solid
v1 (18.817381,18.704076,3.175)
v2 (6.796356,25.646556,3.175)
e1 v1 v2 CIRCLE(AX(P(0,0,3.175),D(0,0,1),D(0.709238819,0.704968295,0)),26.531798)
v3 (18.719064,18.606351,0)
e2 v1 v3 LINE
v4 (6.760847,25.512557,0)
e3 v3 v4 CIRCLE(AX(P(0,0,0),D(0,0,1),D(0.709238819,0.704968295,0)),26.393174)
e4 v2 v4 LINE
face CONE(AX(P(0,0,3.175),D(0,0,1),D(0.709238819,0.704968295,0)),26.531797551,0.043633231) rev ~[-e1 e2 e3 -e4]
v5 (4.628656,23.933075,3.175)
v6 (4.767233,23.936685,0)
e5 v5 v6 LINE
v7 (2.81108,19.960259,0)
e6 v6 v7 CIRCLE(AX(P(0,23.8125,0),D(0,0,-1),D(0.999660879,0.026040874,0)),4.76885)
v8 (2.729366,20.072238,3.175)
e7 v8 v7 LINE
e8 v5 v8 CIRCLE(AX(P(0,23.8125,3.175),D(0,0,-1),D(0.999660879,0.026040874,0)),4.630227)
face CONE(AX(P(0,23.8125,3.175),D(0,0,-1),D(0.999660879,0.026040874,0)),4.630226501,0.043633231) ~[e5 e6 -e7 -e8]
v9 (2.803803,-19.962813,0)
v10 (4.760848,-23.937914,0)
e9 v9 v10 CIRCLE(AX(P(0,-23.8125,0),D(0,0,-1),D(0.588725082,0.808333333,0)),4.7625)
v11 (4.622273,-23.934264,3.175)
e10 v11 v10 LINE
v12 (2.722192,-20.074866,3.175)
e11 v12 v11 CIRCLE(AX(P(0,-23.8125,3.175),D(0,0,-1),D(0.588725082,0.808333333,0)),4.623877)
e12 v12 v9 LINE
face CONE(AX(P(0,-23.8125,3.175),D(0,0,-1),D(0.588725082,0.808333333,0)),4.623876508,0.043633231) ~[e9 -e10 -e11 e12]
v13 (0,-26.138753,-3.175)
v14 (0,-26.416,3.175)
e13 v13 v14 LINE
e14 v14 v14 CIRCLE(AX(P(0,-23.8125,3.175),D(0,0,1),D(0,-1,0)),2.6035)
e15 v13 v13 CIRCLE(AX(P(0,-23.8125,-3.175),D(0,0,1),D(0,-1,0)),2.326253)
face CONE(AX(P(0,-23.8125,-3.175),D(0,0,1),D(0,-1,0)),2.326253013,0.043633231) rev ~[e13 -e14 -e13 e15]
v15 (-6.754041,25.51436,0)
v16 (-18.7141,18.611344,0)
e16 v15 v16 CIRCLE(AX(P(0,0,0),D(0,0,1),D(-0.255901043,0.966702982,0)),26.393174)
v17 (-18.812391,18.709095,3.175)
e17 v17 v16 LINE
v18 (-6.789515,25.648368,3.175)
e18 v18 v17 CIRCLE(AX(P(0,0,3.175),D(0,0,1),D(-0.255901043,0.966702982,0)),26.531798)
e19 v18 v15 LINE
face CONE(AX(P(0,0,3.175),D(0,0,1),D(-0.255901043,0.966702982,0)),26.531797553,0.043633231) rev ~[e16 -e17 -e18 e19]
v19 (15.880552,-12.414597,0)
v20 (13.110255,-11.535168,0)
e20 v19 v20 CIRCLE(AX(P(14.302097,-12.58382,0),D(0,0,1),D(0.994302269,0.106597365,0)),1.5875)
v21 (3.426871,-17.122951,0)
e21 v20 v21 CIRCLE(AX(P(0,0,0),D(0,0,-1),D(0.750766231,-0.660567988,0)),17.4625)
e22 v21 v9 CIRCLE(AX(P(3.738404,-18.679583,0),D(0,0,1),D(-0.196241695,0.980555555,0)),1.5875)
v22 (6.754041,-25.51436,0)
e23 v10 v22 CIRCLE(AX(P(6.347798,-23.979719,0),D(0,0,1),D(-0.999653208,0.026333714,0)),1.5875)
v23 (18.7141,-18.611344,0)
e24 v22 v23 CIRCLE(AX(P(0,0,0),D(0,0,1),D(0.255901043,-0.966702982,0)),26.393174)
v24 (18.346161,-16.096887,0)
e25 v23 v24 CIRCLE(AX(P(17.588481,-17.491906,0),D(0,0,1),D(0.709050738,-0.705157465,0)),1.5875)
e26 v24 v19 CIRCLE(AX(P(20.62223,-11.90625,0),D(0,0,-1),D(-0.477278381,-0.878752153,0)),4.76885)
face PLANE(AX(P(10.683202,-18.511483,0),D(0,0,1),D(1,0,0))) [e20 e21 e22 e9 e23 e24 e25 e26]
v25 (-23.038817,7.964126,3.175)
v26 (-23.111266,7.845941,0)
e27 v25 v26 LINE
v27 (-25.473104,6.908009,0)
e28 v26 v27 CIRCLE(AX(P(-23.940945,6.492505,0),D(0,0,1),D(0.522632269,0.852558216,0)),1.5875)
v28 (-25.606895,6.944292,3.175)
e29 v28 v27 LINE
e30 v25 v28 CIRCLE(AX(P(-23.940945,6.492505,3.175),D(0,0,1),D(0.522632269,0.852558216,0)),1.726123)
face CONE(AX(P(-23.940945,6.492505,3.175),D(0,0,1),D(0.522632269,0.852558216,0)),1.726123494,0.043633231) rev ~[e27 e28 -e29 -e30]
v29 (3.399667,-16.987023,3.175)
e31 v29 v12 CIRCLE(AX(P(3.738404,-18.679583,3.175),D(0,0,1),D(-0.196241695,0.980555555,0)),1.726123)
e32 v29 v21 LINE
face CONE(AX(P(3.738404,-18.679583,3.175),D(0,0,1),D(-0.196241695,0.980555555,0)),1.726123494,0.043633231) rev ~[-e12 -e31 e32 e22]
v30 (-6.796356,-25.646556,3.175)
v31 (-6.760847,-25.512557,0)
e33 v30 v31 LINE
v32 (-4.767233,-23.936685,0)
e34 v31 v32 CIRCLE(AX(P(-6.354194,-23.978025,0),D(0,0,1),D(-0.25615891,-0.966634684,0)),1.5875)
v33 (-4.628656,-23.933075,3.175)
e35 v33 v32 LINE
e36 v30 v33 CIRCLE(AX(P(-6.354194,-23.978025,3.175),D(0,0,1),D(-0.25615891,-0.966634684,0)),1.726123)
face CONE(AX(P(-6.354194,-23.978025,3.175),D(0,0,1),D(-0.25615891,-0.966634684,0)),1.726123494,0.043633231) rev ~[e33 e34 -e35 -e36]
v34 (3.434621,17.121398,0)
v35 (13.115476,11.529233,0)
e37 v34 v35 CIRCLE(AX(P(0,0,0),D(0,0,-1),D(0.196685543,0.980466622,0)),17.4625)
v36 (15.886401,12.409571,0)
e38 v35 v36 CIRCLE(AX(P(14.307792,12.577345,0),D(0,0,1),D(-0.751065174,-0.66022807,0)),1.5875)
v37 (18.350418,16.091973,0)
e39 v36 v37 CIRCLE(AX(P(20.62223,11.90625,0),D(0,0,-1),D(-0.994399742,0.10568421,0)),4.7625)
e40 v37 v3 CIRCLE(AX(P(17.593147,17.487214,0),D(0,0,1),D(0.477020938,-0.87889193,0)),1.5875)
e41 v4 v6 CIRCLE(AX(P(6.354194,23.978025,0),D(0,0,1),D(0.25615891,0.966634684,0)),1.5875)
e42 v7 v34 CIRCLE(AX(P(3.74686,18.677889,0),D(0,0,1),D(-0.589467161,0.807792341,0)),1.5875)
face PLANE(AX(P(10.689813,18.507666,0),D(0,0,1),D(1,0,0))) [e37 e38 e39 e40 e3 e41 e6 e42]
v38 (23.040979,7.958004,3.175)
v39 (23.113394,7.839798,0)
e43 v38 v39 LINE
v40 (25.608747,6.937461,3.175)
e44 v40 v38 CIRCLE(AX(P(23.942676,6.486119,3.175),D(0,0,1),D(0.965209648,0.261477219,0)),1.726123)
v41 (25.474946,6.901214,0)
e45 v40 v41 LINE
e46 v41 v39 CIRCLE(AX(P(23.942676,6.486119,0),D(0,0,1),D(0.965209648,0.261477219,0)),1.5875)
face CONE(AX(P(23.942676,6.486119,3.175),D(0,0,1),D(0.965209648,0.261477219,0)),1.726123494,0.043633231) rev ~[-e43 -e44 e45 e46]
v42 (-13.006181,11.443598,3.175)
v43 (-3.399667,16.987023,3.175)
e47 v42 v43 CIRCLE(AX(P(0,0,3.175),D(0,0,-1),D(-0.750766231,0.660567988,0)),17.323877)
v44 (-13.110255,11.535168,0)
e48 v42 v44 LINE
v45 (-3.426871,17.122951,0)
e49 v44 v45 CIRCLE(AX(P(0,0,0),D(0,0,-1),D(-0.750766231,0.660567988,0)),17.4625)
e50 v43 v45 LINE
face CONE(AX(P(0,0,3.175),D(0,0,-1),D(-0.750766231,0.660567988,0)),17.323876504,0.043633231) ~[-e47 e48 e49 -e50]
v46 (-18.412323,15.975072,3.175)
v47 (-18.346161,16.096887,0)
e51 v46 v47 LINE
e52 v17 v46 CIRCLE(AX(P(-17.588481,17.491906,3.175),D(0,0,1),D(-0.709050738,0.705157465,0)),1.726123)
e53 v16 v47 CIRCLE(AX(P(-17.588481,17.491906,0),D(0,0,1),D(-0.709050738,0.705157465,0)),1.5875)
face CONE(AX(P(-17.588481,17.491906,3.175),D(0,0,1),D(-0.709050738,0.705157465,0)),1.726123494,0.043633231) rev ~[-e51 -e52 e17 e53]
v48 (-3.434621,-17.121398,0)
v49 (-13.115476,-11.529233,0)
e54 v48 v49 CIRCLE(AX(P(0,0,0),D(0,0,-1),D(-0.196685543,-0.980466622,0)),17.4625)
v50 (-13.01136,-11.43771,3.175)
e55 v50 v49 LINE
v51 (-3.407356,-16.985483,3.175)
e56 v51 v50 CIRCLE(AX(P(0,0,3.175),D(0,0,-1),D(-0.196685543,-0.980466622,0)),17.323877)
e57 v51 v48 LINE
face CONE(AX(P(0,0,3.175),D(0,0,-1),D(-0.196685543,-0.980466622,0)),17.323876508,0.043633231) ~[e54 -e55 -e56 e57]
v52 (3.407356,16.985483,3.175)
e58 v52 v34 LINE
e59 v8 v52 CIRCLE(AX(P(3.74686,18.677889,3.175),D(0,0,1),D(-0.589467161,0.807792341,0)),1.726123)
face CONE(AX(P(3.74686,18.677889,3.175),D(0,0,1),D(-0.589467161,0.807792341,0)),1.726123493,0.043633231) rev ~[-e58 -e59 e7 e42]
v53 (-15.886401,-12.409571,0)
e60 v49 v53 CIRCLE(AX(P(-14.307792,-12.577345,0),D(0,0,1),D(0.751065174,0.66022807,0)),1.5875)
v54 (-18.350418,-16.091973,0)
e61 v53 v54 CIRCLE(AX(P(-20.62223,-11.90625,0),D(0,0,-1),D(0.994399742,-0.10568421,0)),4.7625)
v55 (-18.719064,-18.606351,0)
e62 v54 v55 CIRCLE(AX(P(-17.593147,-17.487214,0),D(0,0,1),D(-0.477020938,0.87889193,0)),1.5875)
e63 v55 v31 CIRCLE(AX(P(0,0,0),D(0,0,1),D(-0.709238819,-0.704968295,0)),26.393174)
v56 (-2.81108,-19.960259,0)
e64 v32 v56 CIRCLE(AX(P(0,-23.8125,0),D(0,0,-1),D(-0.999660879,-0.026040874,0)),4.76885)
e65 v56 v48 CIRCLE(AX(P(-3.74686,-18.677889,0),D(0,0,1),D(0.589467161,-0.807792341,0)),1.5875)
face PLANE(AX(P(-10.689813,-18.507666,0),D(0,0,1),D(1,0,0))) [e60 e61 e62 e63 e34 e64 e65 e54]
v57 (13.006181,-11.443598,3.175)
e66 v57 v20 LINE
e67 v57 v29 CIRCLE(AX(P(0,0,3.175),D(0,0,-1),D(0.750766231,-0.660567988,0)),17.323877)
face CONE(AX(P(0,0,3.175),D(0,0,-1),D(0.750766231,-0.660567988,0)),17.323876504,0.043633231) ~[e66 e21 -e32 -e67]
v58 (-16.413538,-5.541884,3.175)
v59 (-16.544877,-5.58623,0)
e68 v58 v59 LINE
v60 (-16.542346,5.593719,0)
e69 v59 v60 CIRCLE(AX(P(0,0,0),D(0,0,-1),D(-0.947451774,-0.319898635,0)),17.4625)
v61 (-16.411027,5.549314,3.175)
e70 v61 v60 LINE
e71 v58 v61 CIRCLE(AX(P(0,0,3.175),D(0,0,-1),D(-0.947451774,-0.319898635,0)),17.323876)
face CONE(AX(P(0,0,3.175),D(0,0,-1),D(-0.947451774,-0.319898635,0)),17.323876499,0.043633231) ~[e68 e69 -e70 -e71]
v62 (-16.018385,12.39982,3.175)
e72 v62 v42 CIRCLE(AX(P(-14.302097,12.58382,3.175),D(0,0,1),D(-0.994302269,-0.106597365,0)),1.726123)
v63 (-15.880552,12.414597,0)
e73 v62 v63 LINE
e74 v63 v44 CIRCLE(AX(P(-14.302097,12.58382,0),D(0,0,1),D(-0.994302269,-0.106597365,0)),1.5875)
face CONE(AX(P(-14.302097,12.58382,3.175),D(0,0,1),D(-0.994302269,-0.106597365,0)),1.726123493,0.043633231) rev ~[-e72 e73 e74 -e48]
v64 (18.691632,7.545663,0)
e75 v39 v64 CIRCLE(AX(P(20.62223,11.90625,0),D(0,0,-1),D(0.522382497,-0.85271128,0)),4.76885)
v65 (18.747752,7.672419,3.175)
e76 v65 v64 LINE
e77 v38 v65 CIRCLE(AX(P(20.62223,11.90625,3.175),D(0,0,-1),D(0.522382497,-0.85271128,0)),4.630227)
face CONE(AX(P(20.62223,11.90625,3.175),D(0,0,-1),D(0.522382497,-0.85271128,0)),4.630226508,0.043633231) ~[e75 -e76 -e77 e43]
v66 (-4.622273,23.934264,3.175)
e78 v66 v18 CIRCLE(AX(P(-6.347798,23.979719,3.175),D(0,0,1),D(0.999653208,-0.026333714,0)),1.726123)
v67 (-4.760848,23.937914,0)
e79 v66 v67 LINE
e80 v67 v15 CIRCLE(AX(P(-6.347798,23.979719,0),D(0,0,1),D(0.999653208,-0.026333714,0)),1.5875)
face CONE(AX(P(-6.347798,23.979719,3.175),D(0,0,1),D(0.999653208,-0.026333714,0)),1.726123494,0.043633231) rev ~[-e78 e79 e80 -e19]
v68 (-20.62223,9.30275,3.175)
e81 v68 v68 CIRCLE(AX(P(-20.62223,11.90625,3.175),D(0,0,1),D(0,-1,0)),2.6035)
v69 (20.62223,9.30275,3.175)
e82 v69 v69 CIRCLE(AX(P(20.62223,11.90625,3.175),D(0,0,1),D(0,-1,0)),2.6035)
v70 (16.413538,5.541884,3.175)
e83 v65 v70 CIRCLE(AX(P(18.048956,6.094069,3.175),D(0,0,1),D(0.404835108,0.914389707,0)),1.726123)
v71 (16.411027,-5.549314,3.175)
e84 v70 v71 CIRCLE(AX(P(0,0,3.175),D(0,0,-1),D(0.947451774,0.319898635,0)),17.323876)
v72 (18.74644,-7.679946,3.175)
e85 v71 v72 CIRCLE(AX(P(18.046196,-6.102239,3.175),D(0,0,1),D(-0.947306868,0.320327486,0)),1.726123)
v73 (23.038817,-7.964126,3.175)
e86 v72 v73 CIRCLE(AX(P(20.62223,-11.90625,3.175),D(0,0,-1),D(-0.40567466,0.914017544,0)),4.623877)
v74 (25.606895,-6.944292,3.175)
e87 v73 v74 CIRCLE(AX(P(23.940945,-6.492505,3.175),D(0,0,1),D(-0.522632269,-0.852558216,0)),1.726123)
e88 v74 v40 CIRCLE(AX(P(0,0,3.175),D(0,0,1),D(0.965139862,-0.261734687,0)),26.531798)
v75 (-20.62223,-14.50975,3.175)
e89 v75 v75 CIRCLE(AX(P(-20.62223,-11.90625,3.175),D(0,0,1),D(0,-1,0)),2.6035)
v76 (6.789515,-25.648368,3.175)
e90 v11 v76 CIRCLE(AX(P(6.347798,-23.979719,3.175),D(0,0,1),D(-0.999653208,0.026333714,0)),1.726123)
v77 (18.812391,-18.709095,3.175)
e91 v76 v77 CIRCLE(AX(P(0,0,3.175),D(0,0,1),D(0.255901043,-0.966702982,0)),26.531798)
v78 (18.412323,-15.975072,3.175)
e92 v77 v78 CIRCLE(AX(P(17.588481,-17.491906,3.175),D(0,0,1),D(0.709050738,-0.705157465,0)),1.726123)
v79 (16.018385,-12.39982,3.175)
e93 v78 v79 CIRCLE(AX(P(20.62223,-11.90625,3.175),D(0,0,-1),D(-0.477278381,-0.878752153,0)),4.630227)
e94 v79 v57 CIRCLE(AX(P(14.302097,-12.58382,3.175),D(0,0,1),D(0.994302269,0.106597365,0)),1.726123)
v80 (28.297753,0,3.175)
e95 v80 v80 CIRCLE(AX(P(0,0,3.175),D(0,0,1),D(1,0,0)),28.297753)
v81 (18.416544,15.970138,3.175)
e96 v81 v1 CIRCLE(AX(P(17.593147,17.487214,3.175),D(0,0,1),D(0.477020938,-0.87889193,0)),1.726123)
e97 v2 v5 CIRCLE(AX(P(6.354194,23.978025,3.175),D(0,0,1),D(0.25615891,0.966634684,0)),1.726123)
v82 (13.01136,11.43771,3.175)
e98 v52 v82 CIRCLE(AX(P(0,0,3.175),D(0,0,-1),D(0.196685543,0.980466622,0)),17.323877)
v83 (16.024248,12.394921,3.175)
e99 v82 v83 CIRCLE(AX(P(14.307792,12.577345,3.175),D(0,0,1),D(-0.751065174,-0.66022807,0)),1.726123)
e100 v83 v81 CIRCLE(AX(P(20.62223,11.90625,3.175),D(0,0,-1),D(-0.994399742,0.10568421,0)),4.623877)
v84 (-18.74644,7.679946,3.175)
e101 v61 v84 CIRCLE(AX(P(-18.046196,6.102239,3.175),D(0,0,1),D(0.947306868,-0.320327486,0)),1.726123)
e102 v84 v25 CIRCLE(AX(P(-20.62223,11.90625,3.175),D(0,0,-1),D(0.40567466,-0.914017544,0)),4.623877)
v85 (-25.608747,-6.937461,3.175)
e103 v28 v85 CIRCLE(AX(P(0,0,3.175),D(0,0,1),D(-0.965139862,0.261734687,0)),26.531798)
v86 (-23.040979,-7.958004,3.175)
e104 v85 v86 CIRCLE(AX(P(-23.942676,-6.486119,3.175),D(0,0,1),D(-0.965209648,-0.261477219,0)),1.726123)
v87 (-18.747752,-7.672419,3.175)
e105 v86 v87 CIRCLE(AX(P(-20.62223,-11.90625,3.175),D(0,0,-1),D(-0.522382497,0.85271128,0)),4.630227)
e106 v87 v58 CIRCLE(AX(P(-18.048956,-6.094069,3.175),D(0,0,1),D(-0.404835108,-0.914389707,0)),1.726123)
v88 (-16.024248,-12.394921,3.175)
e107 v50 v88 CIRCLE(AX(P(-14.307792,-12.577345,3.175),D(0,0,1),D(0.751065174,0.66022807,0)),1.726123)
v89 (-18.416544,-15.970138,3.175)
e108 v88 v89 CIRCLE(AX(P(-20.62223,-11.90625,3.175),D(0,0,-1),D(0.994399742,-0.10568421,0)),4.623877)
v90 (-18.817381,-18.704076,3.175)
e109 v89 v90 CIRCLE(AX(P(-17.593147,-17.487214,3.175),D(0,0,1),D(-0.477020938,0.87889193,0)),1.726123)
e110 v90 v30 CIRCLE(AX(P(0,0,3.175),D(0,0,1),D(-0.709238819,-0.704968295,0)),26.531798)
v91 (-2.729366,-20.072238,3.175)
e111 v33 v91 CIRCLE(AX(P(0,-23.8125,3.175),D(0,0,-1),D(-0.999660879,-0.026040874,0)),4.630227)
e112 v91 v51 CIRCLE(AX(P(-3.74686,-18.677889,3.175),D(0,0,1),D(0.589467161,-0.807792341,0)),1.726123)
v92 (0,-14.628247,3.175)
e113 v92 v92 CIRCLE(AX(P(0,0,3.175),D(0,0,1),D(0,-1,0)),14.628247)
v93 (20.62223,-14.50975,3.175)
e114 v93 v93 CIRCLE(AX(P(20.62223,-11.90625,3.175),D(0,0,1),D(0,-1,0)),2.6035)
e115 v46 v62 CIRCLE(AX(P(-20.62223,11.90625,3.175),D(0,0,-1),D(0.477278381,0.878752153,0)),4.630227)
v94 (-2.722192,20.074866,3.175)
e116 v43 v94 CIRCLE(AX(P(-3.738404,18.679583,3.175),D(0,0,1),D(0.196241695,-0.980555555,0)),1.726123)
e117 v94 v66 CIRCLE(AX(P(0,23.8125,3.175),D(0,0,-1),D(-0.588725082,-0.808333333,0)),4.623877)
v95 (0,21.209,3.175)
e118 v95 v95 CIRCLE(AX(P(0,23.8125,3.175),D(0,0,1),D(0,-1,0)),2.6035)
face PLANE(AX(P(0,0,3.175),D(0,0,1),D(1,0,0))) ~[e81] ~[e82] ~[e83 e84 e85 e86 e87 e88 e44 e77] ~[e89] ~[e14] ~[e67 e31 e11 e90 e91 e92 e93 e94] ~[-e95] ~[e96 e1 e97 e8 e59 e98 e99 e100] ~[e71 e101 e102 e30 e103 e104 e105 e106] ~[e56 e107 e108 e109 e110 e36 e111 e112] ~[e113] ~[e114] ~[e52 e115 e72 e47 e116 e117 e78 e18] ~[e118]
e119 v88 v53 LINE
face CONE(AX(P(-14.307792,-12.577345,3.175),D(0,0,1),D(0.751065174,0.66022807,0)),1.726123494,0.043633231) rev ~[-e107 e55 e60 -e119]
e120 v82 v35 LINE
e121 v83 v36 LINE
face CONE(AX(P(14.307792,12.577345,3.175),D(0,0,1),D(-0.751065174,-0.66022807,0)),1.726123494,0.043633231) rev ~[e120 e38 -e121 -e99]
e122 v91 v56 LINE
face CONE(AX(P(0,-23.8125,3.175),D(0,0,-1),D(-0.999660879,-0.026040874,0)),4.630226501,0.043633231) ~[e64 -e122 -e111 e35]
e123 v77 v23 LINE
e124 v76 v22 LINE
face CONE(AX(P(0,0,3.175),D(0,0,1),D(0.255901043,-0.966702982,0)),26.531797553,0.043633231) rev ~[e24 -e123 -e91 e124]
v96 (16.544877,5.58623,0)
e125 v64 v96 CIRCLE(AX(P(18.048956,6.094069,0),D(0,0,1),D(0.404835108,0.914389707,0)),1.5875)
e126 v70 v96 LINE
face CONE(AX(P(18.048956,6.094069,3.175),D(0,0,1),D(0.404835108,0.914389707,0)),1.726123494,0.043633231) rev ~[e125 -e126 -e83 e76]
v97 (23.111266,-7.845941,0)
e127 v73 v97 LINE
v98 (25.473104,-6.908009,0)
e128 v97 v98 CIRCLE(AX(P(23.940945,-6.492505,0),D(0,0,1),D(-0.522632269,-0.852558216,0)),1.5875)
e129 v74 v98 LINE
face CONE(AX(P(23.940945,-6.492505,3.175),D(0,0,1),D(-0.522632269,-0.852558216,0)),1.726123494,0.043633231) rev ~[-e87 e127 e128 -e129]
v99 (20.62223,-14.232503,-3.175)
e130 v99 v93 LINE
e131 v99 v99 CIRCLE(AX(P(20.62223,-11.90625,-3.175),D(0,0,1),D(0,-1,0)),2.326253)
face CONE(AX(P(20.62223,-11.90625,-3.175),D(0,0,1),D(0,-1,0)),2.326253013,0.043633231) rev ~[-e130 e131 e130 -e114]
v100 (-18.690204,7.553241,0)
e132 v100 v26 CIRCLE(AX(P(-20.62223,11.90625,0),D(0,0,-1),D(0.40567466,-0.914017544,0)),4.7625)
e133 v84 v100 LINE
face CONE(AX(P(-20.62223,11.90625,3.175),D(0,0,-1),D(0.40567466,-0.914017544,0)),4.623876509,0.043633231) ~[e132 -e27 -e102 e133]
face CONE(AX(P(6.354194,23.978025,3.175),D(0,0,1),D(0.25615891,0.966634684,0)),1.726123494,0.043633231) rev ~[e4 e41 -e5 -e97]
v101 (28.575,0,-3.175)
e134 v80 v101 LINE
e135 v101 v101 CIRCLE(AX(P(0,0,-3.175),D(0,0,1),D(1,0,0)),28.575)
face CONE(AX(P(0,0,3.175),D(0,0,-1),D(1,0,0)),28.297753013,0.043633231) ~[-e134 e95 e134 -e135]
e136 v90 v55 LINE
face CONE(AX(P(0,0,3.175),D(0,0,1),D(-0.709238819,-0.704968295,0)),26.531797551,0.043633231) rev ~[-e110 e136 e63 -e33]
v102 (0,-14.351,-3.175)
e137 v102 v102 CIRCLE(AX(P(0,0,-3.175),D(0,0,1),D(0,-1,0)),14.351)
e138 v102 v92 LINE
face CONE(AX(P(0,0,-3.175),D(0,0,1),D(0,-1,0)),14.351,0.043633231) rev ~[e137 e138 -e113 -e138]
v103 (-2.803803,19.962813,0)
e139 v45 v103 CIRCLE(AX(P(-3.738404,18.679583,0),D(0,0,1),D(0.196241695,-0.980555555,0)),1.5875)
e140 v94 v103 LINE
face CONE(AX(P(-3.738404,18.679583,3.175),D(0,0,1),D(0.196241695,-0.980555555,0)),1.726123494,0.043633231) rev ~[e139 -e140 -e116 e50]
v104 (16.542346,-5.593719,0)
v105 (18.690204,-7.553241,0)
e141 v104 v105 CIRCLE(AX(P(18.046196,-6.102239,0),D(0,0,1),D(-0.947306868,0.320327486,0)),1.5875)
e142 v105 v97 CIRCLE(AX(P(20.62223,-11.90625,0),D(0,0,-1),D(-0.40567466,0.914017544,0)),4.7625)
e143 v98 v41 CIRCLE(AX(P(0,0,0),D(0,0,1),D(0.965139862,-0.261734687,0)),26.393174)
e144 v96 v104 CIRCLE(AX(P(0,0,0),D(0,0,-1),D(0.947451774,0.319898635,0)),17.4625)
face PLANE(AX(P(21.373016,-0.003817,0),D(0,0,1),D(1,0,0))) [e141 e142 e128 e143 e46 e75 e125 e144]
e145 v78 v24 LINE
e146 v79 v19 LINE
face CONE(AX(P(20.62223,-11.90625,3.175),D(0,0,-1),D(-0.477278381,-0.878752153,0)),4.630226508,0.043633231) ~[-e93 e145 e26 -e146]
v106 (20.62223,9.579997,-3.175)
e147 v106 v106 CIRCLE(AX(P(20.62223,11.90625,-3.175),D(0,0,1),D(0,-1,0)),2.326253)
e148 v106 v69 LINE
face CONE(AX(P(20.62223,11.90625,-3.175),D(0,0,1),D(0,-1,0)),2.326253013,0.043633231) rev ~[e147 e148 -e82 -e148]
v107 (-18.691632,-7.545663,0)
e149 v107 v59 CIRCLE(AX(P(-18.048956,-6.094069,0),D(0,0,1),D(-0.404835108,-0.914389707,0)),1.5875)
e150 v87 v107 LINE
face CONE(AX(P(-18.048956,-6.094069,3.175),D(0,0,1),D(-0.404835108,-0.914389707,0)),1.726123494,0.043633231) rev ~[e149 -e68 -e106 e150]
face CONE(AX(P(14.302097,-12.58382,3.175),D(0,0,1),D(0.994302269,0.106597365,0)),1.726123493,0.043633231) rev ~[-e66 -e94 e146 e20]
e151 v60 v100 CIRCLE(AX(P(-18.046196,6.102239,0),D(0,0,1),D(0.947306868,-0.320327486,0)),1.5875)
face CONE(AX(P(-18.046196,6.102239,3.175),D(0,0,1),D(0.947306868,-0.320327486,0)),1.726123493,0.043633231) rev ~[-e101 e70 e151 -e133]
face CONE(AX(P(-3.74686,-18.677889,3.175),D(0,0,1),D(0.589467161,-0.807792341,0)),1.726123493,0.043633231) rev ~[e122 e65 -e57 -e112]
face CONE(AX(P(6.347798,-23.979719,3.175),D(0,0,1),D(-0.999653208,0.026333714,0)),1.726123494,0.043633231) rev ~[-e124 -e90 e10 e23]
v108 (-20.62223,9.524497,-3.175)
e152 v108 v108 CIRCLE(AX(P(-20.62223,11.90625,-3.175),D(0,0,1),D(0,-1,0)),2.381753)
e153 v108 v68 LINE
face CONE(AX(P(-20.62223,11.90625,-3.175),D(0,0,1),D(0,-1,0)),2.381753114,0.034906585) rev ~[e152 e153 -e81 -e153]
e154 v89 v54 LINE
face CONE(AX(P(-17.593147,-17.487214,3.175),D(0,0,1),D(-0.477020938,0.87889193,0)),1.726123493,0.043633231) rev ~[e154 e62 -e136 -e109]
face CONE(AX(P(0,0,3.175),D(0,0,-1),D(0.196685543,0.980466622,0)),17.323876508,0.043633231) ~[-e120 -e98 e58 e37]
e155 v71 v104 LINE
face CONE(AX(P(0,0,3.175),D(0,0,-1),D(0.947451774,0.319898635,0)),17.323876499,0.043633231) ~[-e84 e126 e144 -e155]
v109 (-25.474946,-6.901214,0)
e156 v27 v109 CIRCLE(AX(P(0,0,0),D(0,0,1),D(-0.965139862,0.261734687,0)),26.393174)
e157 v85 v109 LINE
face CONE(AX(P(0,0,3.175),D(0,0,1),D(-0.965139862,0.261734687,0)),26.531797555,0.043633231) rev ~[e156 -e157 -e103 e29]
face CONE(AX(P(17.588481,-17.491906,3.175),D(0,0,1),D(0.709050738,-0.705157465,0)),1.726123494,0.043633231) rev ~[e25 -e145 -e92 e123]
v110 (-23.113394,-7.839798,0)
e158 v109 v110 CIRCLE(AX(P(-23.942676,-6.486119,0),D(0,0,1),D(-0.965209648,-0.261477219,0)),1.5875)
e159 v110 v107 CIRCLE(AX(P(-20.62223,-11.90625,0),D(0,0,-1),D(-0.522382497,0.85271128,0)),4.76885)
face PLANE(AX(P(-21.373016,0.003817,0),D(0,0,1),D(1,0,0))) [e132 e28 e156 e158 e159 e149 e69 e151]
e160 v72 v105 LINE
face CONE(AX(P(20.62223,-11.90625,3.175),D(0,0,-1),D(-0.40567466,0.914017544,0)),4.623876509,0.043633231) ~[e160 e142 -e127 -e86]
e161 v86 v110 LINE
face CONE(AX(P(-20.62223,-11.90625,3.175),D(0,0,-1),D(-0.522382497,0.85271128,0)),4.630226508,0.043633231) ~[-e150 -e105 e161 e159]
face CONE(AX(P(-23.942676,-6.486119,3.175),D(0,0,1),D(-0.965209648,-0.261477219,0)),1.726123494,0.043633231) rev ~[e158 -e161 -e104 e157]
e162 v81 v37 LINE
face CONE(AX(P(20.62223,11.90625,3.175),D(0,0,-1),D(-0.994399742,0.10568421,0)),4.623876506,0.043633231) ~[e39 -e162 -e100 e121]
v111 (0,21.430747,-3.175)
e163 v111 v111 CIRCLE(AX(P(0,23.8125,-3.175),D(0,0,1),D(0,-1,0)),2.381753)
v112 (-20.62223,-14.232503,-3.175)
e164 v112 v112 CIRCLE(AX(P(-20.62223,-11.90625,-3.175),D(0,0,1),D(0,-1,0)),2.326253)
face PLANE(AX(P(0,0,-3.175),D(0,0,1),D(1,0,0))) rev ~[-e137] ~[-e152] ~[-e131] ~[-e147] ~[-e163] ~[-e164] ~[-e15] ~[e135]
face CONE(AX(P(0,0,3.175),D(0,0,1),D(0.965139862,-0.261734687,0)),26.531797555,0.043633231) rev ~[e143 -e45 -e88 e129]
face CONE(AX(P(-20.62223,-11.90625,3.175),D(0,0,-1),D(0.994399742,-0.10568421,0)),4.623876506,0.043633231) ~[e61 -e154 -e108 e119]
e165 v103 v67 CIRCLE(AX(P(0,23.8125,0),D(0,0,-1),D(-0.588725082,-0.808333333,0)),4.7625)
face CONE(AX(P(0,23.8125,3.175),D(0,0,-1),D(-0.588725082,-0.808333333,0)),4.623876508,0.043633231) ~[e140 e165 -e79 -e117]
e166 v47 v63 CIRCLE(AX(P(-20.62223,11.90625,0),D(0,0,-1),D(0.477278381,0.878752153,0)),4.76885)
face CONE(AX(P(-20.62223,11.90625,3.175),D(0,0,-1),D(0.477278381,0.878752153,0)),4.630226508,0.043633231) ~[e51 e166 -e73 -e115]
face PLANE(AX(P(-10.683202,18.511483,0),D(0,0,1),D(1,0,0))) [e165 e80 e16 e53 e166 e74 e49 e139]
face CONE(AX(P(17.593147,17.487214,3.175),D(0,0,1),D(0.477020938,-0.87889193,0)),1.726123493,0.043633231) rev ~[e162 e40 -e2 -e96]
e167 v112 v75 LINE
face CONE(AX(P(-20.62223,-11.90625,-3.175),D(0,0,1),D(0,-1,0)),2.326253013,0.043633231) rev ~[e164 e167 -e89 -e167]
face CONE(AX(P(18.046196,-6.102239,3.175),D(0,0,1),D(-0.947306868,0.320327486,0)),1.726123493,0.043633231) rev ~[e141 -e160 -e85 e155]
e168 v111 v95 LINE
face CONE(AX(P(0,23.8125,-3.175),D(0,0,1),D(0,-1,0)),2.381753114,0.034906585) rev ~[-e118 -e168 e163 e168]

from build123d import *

# Parameters (mm, degrees)
CUT_EXTRUDE1_DEPTH = 3.175
CUT_EXTRUDE1_DRAFT = -2.499999997
CUT_EXTRUDE2_DEPTH = 3.175
CUT_EXTRUDE2_DRAFT = -2.499999997
CUT_EXTRUDE3_DEPTH = 3.175
CUT_EXTRUDE3_DRAFT = -2.499999997
CUT_EXTRUDE4_DEPTH = 3.175
CUT_EXTRUDE4_DRAFT = -2.499999997
CUT_EXTRUDE5_DEPTH = 3.175
CUT_EXTRUDE5_DRAFT = -2.499999997
CUT_EXTRUDE6_DEPTH = 3.175
CUT_EXTRUDE6_DRAFT = -2.499999997


with BuildPart() as part:
    # Sketch1 → Revolve1 (revolve)
    with BuildSketch(Plane(origin=(0, 0, 0), x_dir=(1, 0, 0), z_dir=(0, 1, 0))):
        Polygon((28.575, 3.175), (0, 3.175), (0, -3.175), (28.297753013, -3.175), align=None)
    revolve(axis=Axis((0, 0, -3.175), (0, 0, 1)))


with BuildPart() as cut_extrude1_tool:
    # Sketch2 → Cut-Extrude1 (with draft: the straight prism first)
    with BuildSketch(Plane.XY.offset(3.175)):
        with BuildLine():
            ThreePointArc((-18.412322915, 15.975071512), (-16.774840019, 14.48240768), (-16.018385207, 12.399819948))
            ThreePointArc((-16.018385207, 12.399819948), (-14.824369054, 10.938604706), (-13.006181472, 11.443598242))
            ThreePointArc((-13.006181472, 11.443598242), (-8.658542341, 15.004877265), (-3.399666872, 16.987023352))
            ThreePointArc((-3.399666872, 16.987023352), (-2.052383538, 18.309669286), (-2.722192076, 20.074866491))
            ThreePointArc((-2.722192076, 20.074866491), (-4.148376637, 21.770147136), (-4.622272981, 23.934263844))
            ThreePointArc((-4.622272981, 23.934263844), (-5.27701362, 25.333574104), (-6.789514671, 25.648367816))
            ThreePointArc((-6.789514671, 25.648367816), (-13.262833976, 22.978979873), (-18.812390624, 18.709095117))
            ThreePointArc((-18.812390624, 18.709095117), (-19.296416457, 17.241985352), (-18.412322915, 15.975071512))
        make_face()
    extrude(amount=-CUT_EXTRUDE1_DEPTH)
    # Cut-Extrude1: the draft: its side faces are tilted about the plane it starts from
    cut_extrude1_sides = [cut_extrude1_tool.faces().sort_by_distance(p)[0] for p in [
        (-19.296416457, 17.241985352, 1.5875),
        (-16.774840019, 14.48240768, 1.5875),
        (-14.824369054, 10.938604706, 1.5875),
        (-8.658542341, 15.004877265, 1.5875),
        (-2.052383538, 18.309669286, 1.5875),
        (-4.148376637, 21.770147136, 1.5875),
        (-5.27701362, 25.333574104, 1.5875),
        (-13.262833976, 22.978979873, 1.5875),
    ]]
    draft(cut_extrude1_sides, Plane.XY.offset(3.175), CUT_EXTRUDE1_DRAFT)


with BuildPart() as part_1:
    add(part.part)

    # Cut-Extrude1: cut by cut_extrude1_tool
    add(cut_extrude1_tool.part, mode=Mode.SUBTRACT)


with BuildPart() as cut_extrude2_tool:
    # Sketch3 → Cut-Extrude2 (with draft: the straight prism first)
    with BuildSketch(Plane.XY.offset(3.175)):
        with BuildLine():
            ThreePointArc((4.628656299, 23.933075143), (4.15471295, 21.768641441), (2.729366473, 20.072238491))
            ThreePointArc((2.729366473, 20.072238491), (2.06092503, 18.307582549), (3.407356052, 16.985482682))
            ThreePointArc((3.407356052, 16.985482682), (8.665333722, 15.000956259), (13.011360321, 11.437709552))
            ThreePointArc((13.011360321, 11.437709552), (14.830446967, 10.932250925), (16.024248321, 12.394920737))
            ThreePointArc((16.024248321, 12.394920737), (16.779312145, 14.47767312), (18.416544019, 15.970137747))
            ThreePointArc((18.416544019, 15.970137747), (19.301011933, 17.236814903), (18.817380759, 18.704076092))
            ThreePointArc((18.817380759, 18.704076092), (13.268963335, 22.975441086), (6.796356341, 25.646555745))
            ThreePointArc((6.796356341, 25.646555745), (5.283789098, 25.33217953), (4.628656299, 23.933075143))
        make_face()
    extrude(amount=-CUT_EXTRUDE2_DEPTH)
    # Cut-Extrude2: the draft: its side faces are tilted about the plane it starts from
    cut_extrude2_sides = [cut_extrude2_tool.faces().sort_by_distance(p)[0] for p in [
        (5.283789098, 25.33217953, 1.5875),
        (4.15471295, 21.768641441, 1.5875),
        (2.06092503, 18.307582549, 1.5875),
        (8.665333722, 15.000956259, 1.5875),
        (14.830446967, 10.932250925, 1.5875),
        (16.779312145, 14.47767312, 1.5875),
        (19.301011933, 17.236814903, 1.5875),
        (13.268963335, 22.975441086, 1.5875),
    ]]
    draft(cut_extrude2_sides, Plane.XY.offset(3.175), CUT_EXTRUDE2_DRAFT)


with BuildPart() as part_2:
    add(part_1.part)

    # Cut-Extrude2: cut by cut_extrude2_tool
    add(cut_extrude2_tool.part, mode=Mode.SUBTRACT)


with BuildPart() as cut_extrude3_tool:
    # Sketch4 → Cut-Extrude3 (with draft: the straight prism first)
    with BuildSketch(Plane.XY.offset(3.175)):
        with BuildLine():
            ThreePointArc((23.040979214, 7.958003631), (20.929552969, 7.286233761), (18.747751681, 7.672418543))
            ThreePointArc((18.747751681, 7.672418543), (16.885294085, 7.368977843), (16.413537524, 5.54188444))
            ThreePointArc((16.413537524, 5.54188444), (17.323876063, -0.003921006), (16.411027194, -5.5493138))
            ThreePointArc((16.411027194, -5.5493138), (16.882830505, -7.377418361), (18.746440396, -7.679945754))
            ThreePointArc((18.746440396, -7.679945754), (20.927688782, -7.292474016), (23.038817, -7.964126097))
            ThreePointArc((23.038817, -7.964126097), (24.578025553, -8.096759201), (25.60689543, -6.944291723))
            ThreePointArc((25.60689543, -6.944291723), (26.531797311, -0.003538787), (25.608746965, 6.937460628))
            ThreePointArc((25.608746965, 6.937460628), (24.580205555, 8.090194178), (23.040979214, 7.958003631))
        make_face()
    extrude(amount=-CUT_EXTRUDE3_DEPTH)
    # Cut-Extrude3: the draft: its side faces are tilted about the plane it starts from
    cut_extrude3_sides = [cut_extrude3_tool.faces().sort_by_distance(p)[0] for p in [
        (26.531797311, -0.003538787, 1.5875),
        (24.580205555, 8.090194178, 1.5875),
        (20.929552969, 7.286233761, 1.5875),
        (16.885294085, 7.368977843, 1.5875),
        (17.323876063, -0.003921006, 1.5875),
        (16.882830505, -7.377418361, 1.5875),
        (20.927688782, -7.292474016, 1.5875),
        (24.578025553, -8.096759201, 1.5875),
    ]]
    draft(cut_extrude3_sides, Plane.XY.offset(3.175), CUT_EXTRUDE3_DRAFT)


with BuildPart() as part_3:
    add(part_2.part)

    # Cut-Extrude3: cut by cut_extrude3_tool
    add(cut_extrude3_tool.part, mode=Mode.SUBTRACT)


with BuildPart() as cut_extrude4_tool:
    # Sketch5 → Cut-Extrude4 (with draft: the straight prism first)
    with BuildSketch(Plane.XY.offset(3.175)):
        with BuildLine():
            ThreePointArc((18.412322915, -15.975071512), (16.774840019, -14.48240768), (16.018385207, -12.399819948))
            ThreePointArc((16.018385207, -12.399819948), (14.824369054, -10.938604706), (13.006181472, -11.443598242))
            ThreePointArc((13.006181472, -11.443598242), (8.658542341, -15.004877265), (3.399666872, -16.987023352))
            ThreePointArc((3.399666872, -16.987023352), (2.052383538, -18.309669286), (2.722192076, -20.074866491))
            ThreePointArc((2.722192076, -20.074866491), (4.148376637, -21.770147136), (4.622272981, -23.934263844))
            ThreePointArc((4.622272981, -23.934263844), (5.27701362, -25.333574104), (6.789514671, -25.648367816))
            ThreePointArc((6.789514671, -25.648367816), (13.262833976, -22.978979873), (18.812390624, -18.709095117))
            ThreePointArc((18.812390624, -18.709095117), (19.296416457, -17.241985352), (18.412322915, -15.975071512))
        make_face()
    extrude(amount=-CUT_EXTRUDE4_DEPTH)
    # Cut-Extrude4: the draft: its side faces are tilted about the plane it starts from
    cut_extrude4_sides = [cut_extrude4_tool.faces().sort_by_distance(p)[0] for p in [
        (19.296416457, -17.241985352, 1.5875),
        (16.774840019, -14.48240768, 1.5875),
        (14.824369054, -10.938604706, 1.5875),
        (8.658542341, -15.004877265, 1.5875),
        (2.052383538, -18.309669286, 1.5875),
        (4.148376637, -21.770147136, 1.5875),
        (5.27701362, -25.333574104, 1.5875),
        (13.262833976, -22.978979873, 1.5875),
    ]]
    draft(cut_extrude4_sides, Plane.XY.offset(3.175), CUT_EXTRUDE4_DRAFT)


with BuildPart() as part_4:
    add(part_3.part)

    # Cut-Extrude4: cut by cut_extrude4_tool
    add(cut_extrude4_tool.part, mode=Mode.SUBTRACT)


with BuildPart() as cut_extrude5_tool:
    # Sketch6 → Cut-Extrude5 (with draft: the straight prism first)
    with BuildSketch(Plane.XY.offset(3.175)):
        with BuildLine():
            ThreePointArc((-4.628656299, -23.933075143), (-4.15471295, -21.768641441), (-2.729366473, -20.072238491))
            ThreePointArc((-2.729366473, -20.072238491), (-2.06092503, -18.307582549), (-3.407356052, -16.985482682))
            ThreePointArc((-3.407356052, -16.985482682), (-8.665333722, -15.000956259), (-13.011360321, -11.437709552))
            ThreePointArc((-13.011360321, -11.437709552), (-14.830446967, -10.932250925), (-16.024248321, -12.394920737))
            ThreePointArc((-16.024248321, -12.394920737), (-16.779312145, -14.47767312), (-18.416544019, -15.970137747))
            ThreePointArc((-18.416544019, -15.970137747), (-19.301011933, -17.236814903), (-18.817380759, -18.704076092))
            ThreePointArc((-18.817380759, -18.704076092), (-13.268963335, -22.975441086), (-6.796356341, -25.646555745))
            ThreePointArc((-6.796356341, -25.646555745), (-5.283789098, -25.33217953), (-4.628656299, -23.933075143))
        make_face()
    extrude(amount=-CUT_EXTRUDE5_DEPTH)
    # Cut-Extrude5: the draft: its side faces are tilted about the plane it starts from
    cut_extrude5_sides = [cut_extrude5_tool.faces().sort_by_distance(p)[0] for p in [
        (-13.268963335, -22.975441086, 1.5875),
        (-5.283789098, -25.33217953, 1.5875),
        (-4.15471295, -21.768641441, 1.5875),
        (-2.06092503, -18.307582549, 1.5875),
        (-8.665333722, -15.000956259, 1.5875),
        (-14.830446967, -10.932250925, 1.5875),
        (-16.779312145, -14.47767312, 1.5875),
        (-19.301011933, -17.236814903, 1.5875),
    ]]
    draft(cut_extrude5_sides, Plane.XY.offset(3.175), CUT_EXTRUDE5_DRAFT)


with BuildPart() as part_5:
    add(part_4.part)

    # Cut-Extrude5: cut by cut_extrude5_tool
    add(cut_extrude5_tool.part, mode=Mode.SUBTRACT)


with BuildPart() as cut_extrude6_tool:
    # Sketch7 → Cut-Extrude6 (with draft: the straight prism first)
    with BuildSketch(Plane.XY.offset(3.175)):
        with BuildLine():
            ThreePointArc((-23.040979214, -7.958003631), (-20.929552969, -7.286233761), (-18.747751681, -7.672418543))
            ThreePointArc((-18.747751681, -7.672418543), (-16.885294085, -7.368977843), (-16.413537524, -5.54188444))
            ThreePointArc((-16.413537524, -5.54188444), (-17.323876063, 0.003921006), (-16.411027194, 5.5493138))
            ThreePointArc((-16.411027194, 5.5493138), (-16.882830505, 7.377418361), (-18.746440396, 7.679945754))
            ThreePointArc((-18.746440396, 7.679945754), (-20.927688782, 7.292474016), (-23.038817, 7.964126097))
            ThreePointArc((-23.038817, 7.964126097), (-24.578025553, 8.096759201), (-25.60689543, 6.944291723))
            ThreePointArc((-25.60689543, 6.944291723), (-26.531797311, 0.003538787), (-25.608746965, -6.937460628))
            ThreePointArc((-25.608746965, -6.937460628), (-24.580205555, -8.090194178), (-23.040979214, -7.958003631))
        make_face()
    extrude(amount=-CUT_EXTRUDE6_DEPTH)
    # Cut-Extrude6: the draft: its side faces are tilted about the plane it starts from
    cut_extrude6_sides = [cut_extrude6_tool.faces().sort_by_distance(p)[0] for p in [
        (-24.580205555, -8.090194178, 1.5875),
        (-20.929552969, -7.286233761, 1.5875),
        (-16.885294085, -7.368977843, 1.5875),
        (-17.323876063, 0.003921006, 1.5875),
        (-16.882830505, 7.377418361, 1.5875),
        (-20.927688782, 7.292474016, 1.5875),
        (-24.578025553, 8.096759201, 1.5875),
        (-26.531797311, 0.003538787, 1.5875),
    ]]
    draft(cut_extrude6_sides, Plane.XY.offset(3.175), CUT_EXTRUDE6_DRAFT)


with BuildPart() as part_6:
    add(part_5.part)

    # Cut-Extrude6: cut by cut_extrude6_tool
    add(cut_extrude6_tool.part, mode=Mode.SUBTRACT)

    # Sketch8 → Hole1 (revolve, cut)
    with BuildSketch(Plane(origin=(0, 23.8125, 3.175), x_dir=(0, -1, 0), z_dir=(1, 0, 0))):
        Polygon((0, 0), (0, 6.35), (2.381753114, 6.35), (2.6035, 0), align=None)
    revolve(axis=Axis((0, 23.8125, -106.825), (0, 0, 1)), mode=Mode.SUBTRACT)

    # Sketch10 → Hole2 (revolve, cut)
    with BuildSketch(Plane(origin=(-20.622229928, -11.90625, 3.175), x_dir=(0, -1, 0), z_dir=(1, 0, 0))):
        Polygon((0, 0), (0, 6.35), (2.326253013, 6.35), (2.6035, 0), align=None)
    revolve(axis=Axis((-20.622229928, -11.90625, -106.825), (0, 0, 1)), mode=Mode.SUBTRACT)

    # Sketch12 → Hole3 (revolve, cut)
    with BuildSketch(Plane(origin=(0, -23.8125, 3.175), x_dir=(0, -1, 0), z_dir=(1, 0, 0))):
        Polygon((0, 0), (0, 6.35), (2.326253013, 6.35), (2.6035, 0), align=None)
    revolve(axis=Axis((0, -23.8125, -106.825), (0, 0, 1)), mode=Mode.SUBTRACT)

    # Sketch14 → Hole4 (revolve, cut)
    with BuildSketch(Plane(origin=(20.622229928, -11.90625, 3.175), x_dir=(0, -1, 0), z_dir=(1, 0, 0))):
        Polygon((0, 0), (0, 6.35), (2.326253013, 6.35), (2.6035, 0), align=None)
    revolve(axis=Axis((20.622229928, -11.90625, -106.825), (0, 0, 1)), mode=Mode.SUBTRACT)

    # Sketch16 → Hole5 (revolve, cut)
    with BuildSketch(Plane(origin=(20.622229928, 11.90625, 3.175), x_dir=(0, -1, 0), z_dir=(1, 0, 0))):
        Polygon((0, 0), (0, 6.35), (2.326253013, 6.35), (2.6035, 0), align=None)
    revolve(axis=Axis((20.622229928, 11.90625, -106.825), (0, 0, 1)), mode=Mode.SUBTRACT)

    # Sketch18 → Hole6 (revolve, cut)
    with BuildSketch(Plane(origin=(0, 0, 3.175), x_dir=(0, -1, 0), z_dir=(1, 0, 0))):
        Polygon((0, 0), (0, 6.35), (14.351, 6.35), (14.628246987, 0), align=None)
    revolve(axis=Axis((0, 0, -106.825), (0, 0, 1)), mode=Mode.SUBTRACT)

    # Sketch20 → Hole7 (revolve, cut)
    with BuildSketch(Plane(origin=(-20.622229928, 11.90625, 3.175), x_dir=(0, -1, 0), z_dir=(1, 0, 0))):
        Polygon((0, 0), (0, 6.35), (2.381753114, 6.35), (2.6035, 0), align=None)
    revolve(axis=Axis((-20.622229928, 11.90625, -106.825), (0, 0, 1)), mode=Mode.SUBTRACT)


solid = part_6.part
